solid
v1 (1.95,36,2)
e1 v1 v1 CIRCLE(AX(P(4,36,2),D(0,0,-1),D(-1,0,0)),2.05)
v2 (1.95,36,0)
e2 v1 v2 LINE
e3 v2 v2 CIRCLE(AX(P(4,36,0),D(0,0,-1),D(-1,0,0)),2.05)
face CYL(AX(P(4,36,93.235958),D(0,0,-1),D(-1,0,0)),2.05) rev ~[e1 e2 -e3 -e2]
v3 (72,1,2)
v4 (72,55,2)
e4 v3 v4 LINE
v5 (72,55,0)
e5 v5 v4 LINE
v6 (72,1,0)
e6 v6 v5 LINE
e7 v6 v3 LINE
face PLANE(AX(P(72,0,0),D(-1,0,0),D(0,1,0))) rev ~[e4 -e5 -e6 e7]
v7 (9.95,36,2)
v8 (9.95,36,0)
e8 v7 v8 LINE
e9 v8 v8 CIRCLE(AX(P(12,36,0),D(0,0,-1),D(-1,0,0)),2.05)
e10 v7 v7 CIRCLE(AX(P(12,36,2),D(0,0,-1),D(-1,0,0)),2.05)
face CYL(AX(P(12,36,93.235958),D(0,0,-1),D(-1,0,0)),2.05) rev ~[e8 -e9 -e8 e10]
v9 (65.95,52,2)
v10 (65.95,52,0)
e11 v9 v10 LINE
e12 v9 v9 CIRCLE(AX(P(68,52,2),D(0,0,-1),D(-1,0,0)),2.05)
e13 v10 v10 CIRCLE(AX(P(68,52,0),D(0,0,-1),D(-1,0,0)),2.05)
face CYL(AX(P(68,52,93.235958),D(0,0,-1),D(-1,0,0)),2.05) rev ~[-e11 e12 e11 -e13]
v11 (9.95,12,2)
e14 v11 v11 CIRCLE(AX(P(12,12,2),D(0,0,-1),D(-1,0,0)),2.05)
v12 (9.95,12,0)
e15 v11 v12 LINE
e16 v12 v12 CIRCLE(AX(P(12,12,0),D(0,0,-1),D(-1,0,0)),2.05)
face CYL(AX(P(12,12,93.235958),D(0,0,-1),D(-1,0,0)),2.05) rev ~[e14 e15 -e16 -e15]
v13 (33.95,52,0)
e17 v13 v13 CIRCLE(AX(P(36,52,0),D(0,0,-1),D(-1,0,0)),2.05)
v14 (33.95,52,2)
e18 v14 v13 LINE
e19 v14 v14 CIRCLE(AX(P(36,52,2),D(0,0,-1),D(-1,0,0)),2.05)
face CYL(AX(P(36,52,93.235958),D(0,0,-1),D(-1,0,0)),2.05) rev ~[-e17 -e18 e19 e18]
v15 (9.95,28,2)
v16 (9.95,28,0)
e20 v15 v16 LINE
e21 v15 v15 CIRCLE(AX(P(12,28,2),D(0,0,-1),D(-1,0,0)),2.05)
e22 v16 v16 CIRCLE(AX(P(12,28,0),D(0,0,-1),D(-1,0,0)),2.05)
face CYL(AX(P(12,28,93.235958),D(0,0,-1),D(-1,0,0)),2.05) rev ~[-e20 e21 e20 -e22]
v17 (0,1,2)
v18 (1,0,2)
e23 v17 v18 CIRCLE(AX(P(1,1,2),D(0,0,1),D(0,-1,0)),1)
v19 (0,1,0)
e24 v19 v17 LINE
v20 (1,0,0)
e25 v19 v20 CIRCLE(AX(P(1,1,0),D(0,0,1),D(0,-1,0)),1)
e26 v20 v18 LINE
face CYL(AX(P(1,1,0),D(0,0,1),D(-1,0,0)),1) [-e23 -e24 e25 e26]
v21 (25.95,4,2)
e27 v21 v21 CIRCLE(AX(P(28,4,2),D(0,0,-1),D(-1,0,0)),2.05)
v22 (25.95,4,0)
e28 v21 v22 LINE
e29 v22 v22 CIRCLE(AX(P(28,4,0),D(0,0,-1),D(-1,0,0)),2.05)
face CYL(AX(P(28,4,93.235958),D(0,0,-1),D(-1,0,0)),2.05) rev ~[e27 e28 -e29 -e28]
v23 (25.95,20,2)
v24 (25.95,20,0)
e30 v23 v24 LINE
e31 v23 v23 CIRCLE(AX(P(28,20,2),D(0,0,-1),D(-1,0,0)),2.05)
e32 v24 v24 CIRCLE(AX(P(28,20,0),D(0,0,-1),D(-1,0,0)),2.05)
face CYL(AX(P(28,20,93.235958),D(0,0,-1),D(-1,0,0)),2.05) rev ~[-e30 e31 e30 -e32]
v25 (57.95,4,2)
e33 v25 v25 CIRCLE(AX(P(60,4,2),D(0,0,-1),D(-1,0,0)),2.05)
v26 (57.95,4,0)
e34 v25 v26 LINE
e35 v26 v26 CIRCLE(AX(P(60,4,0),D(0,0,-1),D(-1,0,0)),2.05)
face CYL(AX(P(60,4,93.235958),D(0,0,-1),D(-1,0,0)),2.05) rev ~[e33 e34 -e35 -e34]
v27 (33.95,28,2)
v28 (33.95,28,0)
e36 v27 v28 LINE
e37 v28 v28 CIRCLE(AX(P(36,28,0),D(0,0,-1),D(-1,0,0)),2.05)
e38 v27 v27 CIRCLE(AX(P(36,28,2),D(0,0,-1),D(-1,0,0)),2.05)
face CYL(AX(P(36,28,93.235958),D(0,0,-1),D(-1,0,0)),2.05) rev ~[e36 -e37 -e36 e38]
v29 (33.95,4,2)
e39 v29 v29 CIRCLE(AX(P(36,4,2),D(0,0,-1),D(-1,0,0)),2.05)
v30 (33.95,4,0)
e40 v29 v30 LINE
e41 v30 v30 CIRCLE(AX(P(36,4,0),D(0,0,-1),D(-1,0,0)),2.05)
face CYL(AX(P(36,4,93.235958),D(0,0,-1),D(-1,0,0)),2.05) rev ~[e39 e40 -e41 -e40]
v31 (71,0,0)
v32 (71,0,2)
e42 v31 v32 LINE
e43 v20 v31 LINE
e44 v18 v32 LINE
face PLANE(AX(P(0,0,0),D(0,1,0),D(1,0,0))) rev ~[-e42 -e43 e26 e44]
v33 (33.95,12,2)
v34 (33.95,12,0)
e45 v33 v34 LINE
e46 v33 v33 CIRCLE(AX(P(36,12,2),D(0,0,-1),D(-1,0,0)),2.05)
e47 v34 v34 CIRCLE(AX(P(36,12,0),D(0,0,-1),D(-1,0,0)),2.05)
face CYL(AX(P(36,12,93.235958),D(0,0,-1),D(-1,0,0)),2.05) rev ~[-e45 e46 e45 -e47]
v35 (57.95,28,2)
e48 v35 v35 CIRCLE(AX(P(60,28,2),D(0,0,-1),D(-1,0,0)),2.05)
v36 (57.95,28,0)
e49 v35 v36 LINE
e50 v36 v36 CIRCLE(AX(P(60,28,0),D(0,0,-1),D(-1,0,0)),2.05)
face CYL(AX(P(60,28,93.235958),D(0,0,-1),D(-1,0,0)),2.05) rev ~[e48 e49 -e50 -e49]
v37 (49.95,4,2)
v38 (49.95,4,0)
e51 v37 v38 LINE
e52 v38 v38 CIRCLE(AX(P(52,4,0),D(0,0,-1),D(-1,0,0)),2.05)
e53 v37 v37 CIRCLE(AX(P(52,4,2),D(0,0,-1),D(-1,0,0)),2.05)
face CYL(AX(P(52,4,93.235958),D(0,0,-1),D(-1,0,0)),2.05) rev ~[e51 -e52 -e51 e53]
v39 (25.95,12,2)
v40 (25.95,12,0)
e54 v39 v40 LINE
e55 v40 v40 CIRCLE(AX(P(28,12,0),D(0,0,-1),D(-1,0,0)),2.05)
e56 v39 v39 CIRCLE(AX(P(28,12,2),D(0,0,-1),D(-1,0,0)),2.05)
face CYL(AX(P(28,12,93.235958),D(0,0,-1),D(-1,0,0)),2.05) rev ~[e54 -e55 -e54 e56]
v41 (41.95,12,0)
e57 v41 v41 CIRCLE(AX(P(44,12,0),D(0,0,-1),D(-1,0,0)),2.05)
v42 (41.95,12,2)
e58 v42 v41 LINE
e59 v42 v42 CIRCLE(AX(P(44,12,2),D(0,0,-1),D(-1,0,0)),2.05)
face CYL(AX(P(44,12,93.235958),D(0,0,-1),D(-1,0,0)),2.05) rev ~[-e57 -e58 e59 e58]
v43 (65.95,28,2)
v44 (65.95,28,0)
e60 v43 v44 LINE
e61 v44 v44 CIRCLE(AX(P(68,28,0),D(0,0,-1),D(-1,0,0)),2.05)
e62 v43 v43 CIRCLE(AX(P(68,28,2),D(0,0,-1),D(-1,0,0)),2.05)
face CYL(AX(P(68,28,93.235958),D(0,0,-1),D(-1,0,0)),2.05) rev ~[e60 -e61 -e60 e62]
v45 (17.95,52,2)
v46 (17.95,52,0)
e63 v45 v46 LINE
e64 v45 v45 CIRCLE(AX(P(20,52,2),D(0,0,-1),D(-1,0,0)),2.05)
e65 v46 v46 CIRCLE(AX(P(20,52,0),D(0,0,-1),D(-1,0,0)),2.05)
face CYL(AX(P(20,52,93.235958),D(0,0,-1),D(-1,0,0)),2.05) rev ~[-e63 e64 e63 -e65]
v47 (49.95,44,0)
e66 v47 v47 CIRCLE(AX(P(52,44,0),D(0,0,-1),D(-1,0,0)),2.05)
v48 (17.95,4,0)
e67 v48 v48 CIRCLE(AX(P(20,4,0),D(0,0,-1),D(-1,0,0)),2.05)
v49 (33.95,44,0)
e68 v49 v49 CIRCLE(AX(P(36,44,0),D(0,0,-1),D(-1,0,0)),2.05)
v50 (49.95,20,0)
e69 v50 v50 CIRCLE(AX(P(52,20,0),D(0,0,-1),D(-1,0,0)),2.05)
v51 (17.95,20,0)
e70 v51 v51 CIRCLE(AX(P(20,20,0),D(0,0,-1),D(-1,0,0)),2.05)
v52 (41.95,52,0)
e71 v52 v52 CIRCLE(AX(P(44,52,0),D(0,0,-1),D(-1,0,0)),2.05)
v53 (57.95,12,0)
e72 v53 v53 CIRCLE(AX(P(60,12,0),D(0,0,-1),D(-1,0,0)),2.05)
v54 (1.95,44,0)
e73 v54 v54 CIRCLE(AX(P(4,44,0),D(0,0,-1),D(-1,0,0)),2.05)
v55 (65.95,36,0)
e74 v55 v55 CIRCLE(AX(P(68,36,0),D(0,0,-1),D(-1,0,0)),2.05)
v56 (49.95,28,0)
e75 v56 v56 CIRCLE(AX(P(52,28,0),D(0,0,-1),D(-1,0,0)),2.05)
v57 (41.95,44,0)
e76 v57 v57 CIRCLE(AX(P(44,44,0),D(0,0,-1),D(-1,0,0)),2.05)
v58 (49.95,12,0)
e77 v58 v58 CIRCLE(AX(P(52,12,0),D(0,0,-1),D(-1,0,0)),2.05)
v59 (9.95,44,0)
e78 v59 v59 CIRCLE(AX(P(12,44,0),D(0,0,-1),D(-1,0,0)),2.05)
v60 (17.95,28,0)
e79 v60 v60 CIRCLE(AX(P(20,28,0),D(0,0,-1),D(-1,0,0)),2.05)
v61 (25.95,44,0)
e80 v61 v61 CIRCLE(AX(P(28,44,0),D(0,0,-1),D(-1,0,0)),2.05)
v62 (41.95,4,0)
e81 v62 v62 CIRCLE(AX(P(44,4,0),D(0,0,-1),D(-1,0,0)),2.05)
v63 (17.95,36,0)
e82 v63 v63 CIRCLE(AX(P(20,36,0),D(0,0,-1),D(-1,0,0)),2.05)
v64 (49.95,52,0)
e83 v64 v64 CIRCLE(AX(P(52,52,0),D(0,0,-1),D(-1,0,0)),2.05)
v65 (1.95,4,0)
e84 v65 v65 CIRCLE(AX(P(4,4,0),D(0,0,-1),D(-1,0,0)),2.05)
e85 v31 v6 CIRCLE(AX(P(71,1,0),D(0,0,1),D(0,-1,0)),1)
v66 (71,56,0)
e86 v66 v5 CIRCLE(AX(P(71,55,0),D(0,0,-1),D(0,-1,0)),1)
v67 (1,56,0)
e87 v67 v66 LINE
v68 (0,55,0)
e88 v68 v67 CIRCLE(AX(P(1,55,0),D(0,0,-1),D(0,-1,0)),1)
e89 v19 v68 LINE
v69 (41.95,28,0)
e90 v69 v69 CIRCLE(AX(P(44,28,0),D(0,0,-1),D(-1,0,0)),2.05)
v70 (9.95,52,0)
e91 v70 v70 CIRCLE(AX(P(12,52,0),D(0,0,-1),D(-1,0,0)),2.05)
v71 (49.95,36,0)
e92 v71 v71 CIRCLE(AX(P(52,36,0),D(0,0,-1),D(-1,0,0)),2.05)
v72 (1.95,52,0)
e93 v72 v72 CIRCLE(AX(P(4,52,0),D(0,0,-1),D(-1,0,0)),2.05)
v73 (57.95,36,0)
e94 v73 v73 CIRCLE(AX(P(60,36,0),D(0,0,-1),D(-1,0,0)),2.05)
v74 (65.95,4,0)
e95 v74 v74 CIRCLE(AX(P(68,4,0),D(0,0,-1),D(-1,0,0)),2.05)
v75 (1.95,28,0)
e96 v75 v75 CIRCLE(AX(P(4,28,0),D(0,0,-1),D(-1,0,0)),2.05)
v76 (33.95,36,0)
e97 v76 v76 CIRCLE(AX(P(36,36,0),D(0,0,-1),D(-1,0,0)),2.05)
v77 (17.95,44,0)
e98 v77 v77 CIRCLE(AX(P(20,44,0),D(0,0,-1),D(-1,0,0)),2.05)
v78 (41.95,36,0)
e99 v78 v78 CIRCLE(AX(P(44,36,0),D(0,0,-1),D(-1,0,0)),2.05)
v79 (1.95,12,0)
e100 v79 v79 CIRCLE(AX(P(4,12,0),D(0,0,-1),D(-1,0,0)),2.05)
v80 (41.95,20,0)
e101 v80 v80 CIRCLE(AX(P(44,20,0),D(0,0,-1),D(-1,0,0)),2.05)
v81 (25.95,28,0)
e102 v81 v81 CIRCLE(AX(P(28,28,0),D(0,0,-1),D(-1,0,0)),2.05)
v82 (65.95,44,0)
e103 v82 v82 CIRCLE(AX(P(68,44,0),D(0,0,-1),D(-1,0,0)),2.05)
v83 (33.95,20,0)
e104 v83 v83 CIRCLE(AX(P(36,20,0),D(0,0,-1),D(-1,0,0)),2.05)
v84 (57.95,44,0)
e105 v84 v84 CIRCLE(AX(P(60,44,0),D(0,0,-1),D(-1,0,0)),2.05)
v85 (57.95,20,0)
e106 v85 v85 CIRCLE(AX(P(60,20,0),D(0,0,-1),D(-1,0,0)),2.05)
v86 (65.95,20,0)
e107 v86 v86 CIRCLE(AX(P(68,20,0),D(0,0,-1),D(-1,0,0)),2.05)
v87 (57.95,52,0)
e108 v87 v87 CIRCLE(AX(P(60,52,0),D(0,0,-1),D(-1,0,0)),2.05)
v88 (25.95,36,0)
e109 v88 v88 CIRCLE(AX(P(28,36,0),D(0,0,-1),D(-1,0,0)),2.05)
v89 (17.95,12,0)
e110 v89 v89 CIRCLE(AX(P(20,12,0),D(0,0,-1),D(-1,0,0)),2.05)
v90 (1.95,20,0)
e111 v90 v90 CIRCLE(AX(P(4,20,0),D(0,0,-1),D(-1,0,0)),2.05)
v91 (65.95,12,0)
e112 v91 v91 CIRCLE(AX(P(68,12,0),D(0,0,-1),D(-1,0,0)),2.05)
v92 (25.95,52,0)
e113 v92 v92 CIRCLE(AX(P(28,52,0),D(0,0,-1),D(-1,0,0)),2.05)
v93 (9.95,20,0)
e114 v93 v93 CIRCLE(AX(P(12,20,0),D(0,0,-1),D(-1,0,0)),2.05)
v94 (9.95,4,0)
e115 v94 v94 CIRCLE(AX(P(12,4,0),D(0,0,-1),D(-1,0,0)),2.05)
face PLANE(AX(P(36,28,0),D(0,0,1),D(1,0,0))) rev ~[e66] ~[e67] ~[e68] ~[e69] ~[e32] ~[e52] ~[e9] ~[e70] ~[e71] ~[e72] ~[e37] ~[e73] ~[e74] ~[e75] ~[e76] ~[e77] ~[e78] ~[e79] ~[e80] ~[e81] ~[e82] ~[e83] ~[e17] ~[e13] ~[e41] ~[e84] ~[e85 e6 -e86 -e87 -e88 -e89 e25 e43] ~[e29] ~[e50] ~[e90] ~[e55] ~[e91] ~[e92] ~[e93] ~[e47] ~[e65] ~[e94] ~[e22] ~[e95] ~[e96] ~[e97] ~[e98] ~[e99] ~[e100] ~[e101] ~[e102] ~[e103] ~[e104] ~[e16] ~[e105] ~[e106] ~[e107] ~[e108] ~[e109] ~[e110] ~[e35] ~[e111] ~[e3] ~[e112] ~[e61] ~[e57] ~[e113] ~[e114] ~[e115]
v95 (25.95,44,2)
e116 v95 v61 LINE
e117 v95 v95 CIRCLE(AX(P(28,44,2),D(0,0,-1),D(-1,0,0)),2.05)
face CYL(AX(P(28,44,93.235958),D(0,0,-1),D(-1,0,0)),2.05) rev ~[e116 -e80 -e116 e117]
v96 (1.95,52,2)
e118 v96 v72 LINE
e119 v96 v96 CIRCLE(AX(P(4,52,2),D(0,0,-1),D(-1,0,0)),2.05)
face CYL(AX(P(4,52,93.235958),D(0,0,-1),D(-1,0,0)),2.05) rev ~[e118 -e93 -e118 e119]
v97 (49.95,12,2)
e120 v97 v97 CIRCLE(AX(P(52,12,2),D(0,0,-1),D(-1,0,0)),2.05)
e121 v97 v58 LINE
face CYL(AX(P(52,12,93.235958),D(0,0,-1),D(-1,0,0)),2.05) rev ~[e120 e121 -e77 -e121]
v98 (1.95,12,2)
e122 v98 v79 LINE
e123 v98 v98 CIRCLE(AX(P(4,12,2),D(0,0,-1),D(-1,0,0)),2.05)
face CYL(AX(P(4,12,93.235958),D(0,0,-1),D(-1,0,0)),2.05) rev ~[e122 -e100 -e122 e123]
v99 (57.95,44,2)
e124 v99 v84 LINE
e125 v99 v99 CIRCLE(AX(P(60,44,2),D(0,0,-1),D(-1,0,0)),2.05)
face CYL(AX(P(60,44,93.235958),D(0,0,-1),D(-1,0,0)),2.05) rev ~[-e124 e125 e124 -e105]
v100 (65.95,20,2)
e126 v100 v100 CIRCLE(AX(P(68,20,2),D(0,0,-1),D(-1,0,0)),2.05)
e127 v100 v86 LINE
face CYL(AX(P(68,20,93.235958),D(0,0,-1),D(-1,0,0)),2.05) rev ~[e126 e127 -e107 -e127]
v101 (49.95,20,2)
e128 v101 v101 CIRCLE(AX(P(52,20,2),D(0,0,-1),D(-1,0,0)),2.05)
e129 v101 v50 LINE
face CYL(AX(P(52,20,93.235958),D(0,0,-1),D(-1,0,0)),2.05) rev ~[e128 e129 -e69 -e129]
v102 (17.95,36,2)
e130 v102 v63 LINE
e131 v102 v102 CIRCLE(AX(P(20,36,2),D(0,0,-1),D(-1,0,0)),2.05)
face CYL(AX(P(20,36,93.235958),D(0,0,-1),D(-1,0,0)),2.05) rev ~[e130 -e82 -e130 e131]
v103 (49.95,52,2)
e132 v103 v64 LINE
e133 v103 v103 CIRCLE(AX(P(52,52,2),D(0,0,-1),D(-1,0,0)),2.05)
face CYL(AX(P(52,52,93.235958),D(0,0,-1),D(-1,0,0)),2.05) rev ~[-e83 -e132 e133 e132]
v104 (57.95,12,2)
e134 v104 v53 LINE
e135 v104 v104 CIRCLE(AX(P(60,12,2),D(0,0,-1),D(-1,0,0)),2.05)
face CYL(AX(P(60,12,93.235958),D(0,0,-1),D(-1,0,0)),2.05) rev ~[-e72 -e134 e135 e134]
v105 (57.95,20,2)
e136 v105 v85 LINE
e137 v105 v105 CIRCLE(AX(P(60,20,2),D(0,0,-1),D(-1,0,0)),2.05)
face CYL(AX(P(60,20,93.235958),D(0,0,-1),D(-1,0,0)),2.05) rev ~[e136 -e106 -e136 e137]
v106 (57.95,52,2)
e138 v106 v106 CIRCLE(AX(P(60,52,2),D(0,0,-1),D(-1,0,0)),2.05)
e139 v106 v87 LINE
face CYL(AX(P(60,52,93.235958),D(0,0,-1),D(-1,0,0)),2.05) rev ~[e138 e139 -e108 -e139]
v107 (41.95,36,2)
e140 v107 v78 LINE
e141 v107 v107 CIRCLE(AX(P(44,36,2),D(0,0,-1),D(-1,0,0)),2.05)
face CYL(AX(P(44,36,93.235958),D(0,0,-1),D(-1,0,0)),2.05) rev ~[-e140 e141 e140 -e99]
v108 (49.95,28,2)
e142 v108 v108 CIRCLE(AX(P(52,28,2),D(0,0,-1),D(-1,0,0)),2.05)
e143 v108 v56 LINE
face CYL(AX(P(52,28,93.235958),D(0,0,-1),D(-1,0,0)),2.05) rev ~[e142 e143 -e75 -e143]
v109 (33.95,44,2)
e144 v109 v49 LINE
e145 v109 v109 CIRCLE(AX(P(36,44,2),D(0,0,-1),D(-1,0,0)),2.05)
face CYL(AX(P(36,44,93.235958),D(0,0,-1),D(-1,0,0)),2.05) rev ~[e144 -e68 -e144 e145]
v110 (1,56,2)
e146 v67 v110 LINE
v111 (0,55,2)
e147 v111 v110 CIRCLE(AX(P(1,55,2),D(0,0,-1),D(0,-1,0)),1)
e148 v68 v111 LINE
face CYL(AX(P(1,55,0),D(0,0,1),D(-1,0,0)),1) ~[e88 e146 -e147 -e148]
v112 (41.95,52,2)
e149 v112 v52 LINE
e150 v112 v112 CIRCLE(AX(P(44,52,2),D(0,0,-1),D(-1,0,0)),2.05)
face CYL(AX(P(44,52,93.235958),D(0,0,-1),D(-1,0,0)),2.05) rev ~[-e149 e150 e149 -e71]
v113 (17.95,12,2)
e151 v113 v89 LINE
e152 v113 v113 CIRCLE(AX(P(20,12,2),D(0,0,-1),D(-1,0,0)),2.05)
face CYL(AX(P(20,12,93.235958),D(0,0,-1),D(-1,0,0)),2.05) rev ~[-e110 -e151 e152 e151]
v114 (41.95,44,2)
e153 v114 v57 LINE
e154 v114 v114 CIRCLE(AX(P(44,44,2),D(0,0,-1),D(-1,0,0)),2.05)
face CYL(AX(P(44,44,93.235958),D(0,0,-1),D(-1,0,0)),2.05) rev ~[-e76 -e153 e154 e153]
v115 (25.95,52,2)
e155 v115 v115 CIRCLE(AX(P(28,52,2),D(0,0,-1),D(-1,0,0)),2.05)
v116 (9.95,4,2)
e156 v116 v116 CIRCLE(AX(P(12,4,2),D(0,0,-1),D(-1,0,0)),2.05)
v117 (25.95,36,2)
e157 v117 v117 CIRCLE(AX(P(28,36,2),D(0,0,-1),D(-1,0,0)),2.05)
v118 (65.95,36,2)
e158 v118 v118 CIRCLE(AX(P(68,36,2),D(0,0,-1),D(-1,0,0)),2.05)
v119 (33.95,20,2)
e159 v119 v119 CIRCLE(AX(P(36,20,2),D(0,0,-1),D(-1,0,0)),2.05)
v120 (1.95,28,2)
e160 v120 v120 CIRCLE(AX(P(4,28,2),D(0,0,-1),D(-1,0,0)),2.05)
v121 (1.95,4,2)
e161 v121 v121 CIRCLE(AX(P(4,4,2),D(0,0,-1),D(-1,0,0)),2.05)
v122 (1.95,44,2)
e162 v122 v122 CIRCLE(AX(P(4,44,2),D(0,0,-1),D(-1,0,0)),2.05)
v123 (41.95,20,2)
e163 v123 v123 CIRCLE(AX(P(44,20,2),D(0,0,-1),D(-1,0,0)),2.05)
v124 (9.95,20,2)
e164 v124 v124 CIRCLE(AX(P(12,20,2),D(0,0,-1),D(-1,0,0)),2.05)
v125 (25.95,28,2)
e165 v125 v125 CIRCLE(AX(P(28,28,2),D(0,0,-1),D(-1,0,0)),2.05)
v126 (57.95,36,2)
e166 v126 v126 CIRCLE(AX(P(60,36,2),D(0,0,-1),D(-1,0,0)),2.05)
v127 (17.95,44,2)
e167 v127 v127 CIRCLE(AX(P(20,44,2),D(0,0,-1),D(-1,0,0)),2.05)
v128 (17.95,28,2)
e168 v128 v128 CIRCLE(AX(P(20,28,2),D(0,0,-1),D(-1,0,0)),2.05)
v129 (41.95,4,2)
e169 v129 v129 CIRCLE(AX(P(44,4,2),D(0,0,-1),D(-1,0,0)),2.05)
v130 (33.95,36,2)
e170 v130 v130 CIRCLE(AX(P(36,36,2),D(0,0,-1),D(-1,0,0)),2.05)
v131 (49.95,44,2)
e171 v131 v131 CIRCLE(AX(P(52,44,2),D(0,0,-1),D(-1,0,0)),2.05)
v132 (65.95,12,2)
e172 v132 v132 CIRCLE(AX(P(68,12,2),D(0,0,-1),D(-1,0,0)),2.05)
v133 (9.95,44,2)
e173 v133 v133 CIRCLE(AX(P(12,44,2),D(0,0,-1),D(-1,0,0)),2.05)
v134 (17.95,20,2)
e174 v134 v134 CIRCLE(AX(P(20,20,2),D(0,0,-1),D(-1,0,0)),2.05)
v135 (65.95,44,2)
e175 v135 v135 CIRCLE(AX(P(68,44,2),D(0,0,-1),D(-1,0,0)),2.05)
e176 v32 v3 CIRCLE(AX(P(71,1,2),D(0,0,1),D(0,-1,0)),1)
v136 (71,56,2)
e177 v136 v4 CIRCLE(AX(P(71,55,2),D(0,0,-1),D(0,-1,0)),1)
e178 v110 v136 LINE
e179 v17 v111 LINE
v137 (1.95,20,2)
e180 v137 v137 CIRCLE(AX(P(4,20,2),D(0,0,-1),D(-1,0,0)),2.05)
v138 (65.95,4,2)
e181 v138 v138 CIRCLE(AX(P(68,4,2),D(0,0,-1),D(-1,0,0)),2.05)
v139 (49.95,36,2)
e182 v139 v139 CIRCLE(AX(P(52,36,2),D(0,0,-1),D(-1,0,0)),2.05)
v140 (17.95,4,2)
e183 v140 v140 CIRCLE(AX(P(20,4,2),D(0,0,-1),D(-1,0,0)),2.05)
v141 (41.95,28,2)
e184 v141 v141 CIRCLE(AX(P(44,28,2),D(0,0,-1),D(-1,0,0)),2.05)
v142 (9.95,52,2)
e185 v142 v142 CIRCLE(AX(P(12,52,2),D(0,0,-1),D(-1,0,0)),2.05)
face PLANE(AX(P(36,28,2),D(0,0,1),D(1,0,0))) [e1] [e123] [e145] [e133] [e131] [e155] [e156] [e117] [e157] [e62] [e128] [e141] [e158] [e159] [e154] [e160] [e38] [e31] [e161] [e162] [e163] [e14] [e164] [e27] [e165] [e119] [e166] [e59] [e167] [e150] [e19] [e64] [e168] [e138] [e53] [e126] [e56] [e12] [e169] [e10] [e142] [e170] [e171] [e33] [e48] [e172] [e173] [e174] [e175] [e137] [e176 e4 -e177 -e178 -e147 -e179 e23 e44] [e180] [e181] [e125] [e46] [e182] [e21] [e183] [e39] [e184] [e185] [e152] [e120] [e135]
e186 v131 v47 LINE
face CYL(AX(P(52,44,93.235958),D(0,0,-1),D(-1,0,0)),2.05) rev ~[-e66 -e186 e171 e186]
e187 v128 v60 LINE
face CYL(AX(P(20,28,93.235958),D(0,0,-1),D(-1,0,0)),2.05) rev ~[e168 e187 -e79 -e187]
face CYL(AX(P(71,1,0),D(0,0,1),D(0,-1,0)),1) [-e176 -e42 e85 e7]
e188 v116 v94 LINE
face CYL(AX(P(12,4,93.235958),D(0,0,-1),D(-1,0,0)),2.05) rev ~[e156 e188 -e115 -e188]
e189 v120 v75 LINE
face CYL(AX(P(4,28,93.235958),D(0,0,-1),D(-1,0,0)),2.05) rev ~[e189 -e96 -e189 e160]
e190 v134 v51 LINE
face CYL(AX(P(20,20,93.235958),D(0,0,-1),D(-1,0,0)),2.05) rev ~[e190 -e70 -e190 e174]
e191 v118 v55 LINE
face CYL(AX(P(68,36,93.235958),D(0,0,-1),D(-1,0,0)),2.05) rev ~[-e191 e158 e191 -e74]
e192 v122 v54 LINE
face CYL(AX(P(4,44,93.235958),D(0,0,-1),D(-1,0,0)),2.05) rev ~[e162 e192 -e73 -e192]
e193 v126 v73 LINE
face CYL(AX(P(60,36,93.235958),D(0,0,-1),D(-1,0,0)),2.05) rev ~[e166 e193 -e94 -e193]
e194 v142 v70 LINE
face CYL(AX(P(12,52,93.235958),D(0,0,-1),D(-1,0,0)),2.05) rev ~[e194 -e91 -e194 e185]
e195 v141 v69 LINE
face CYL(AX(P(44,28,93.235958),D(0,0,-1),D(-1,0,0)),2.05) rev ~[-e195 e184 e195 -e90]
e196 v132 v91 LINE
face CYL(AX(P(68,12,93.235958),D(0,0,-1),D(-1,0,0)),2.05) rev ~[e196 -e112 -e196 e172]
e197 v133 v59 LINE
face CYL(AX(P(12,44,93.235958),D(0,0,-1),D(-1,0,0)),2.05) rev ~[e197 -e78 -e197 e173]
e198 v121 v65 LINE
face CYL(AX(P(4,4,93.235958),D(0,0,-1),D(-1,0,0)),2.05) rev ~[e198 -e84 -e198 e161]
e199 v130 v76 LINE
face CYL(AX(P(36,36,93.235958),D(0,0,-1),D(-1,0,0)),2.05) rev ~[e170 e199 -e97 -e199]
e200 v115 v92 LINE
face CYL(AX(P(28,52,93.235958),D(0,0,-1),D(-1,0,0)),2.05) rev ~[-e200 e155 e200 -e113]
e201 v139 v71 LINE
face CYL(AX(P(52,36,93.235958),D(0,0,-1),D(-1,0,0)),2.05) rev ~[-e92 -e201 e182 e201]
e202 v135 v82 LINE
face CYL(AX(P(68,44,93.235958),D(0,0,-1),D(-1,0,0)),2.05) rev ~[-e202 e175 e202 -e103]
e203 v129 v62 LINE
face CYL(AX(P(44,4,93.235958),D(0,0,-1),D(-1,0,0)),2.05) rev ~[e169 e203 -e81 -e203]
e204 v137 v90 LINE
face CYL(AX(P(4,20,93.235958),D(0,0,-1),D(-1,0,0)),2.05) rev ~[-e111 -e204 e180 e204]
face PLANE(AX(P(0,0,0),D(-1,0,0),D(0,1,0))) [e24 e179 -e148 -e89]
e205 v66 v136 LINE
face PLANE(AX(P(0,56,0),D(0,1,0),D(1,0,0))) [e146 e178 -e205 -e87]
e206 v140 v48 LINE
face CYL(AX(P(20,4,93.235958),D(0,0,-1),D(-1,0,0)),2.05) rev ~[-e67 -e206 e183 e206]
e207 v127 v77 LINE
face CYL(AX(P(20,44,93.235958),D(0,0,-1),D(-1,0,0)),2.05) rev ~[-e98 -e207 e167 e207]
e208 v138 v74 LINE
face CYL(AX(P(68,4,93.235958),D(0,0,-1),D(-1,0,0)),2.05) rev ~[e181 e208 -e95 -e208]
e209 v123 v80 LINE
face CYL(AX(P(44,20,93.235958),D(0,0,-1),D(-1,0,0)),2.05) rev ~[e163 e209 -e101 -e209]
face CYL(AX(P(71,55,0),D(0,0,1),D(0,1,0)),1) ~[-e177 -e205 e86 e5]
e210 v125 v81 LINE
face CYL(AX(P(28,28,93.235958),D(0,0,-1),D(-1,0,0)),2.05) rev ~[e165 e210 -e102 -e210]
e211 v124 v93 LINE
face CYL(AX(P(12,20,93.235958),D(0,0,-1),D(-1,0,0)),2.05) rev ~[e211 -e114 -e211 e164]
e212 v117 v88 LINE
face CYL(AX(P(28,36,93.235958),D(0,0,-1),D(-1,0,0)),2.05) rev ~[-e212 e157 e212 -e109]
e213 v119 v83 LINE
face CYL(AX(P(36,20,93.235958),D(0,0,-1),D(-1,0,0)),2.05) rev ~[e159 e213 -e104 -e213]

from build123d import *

# Parameters (mm, degrees)
SKETCH1_W                  = 72
SKETCH1_H                  = 56
BOSS_EXTRUDE1_DEPTH        = 2
F_4_1_4_1_DIAMETER_HOLE1_D = 4.1
LPATTERN1_COUNT            = 7
LPATTERN1_PITCH            = 8
LPATTERN1_COUNT_DIR2       = 9
LPATTERN1_PITCH_DIR2       = 8
FILLET1_R                  = 1


with BuildPart() as part:
    # Sketch1 → Boss-Extrude1 (new body)
    with BuildSketch(Plane.XY):
        with Locations((36, 28)):
            Rectangle(SKETCH1_W, SKETCH1_H)
    extrude(amount=BOSS_EXTRUDE1_DEPTH)

    # Ø4.1 (4.1) Diameter Hole1 (through all)
    with Locations(Plane.XY.offset(2)):
        with Locations((4, 4)):
            f_4_1_4_1_diameter_hole1 = Hole(F_4_1_4_1_DIAMETER_HOLE1_D / 2)

    # LPattern1: 4.1 _4.1_ Diameter Hole1 7 × 9
    with Locations(*[(j * LPATTERN1_PITCH_DIR2, i * LPATTERN1_PITCH, 0) for i in range(LPATTERN1_COUNT) for j in range(LPATTERN1_COUNT_DIR2) if (i, j) != (0, 0)]):
        add(f_4_1_4_1_diameter_hole1, mode=Mode.SUBTRACT)

    # Fillet1
    fillet1_edges = [part.edges().sort_by_distance(p)[0] for p in [
        (0, 56, 1),
        (72, 56, 1),
        (72, 0, 1),
        (0, 0, 1),
    ]]
    fillet(fillet1_edges, radius=FILLET1_R)


solid = part.part
